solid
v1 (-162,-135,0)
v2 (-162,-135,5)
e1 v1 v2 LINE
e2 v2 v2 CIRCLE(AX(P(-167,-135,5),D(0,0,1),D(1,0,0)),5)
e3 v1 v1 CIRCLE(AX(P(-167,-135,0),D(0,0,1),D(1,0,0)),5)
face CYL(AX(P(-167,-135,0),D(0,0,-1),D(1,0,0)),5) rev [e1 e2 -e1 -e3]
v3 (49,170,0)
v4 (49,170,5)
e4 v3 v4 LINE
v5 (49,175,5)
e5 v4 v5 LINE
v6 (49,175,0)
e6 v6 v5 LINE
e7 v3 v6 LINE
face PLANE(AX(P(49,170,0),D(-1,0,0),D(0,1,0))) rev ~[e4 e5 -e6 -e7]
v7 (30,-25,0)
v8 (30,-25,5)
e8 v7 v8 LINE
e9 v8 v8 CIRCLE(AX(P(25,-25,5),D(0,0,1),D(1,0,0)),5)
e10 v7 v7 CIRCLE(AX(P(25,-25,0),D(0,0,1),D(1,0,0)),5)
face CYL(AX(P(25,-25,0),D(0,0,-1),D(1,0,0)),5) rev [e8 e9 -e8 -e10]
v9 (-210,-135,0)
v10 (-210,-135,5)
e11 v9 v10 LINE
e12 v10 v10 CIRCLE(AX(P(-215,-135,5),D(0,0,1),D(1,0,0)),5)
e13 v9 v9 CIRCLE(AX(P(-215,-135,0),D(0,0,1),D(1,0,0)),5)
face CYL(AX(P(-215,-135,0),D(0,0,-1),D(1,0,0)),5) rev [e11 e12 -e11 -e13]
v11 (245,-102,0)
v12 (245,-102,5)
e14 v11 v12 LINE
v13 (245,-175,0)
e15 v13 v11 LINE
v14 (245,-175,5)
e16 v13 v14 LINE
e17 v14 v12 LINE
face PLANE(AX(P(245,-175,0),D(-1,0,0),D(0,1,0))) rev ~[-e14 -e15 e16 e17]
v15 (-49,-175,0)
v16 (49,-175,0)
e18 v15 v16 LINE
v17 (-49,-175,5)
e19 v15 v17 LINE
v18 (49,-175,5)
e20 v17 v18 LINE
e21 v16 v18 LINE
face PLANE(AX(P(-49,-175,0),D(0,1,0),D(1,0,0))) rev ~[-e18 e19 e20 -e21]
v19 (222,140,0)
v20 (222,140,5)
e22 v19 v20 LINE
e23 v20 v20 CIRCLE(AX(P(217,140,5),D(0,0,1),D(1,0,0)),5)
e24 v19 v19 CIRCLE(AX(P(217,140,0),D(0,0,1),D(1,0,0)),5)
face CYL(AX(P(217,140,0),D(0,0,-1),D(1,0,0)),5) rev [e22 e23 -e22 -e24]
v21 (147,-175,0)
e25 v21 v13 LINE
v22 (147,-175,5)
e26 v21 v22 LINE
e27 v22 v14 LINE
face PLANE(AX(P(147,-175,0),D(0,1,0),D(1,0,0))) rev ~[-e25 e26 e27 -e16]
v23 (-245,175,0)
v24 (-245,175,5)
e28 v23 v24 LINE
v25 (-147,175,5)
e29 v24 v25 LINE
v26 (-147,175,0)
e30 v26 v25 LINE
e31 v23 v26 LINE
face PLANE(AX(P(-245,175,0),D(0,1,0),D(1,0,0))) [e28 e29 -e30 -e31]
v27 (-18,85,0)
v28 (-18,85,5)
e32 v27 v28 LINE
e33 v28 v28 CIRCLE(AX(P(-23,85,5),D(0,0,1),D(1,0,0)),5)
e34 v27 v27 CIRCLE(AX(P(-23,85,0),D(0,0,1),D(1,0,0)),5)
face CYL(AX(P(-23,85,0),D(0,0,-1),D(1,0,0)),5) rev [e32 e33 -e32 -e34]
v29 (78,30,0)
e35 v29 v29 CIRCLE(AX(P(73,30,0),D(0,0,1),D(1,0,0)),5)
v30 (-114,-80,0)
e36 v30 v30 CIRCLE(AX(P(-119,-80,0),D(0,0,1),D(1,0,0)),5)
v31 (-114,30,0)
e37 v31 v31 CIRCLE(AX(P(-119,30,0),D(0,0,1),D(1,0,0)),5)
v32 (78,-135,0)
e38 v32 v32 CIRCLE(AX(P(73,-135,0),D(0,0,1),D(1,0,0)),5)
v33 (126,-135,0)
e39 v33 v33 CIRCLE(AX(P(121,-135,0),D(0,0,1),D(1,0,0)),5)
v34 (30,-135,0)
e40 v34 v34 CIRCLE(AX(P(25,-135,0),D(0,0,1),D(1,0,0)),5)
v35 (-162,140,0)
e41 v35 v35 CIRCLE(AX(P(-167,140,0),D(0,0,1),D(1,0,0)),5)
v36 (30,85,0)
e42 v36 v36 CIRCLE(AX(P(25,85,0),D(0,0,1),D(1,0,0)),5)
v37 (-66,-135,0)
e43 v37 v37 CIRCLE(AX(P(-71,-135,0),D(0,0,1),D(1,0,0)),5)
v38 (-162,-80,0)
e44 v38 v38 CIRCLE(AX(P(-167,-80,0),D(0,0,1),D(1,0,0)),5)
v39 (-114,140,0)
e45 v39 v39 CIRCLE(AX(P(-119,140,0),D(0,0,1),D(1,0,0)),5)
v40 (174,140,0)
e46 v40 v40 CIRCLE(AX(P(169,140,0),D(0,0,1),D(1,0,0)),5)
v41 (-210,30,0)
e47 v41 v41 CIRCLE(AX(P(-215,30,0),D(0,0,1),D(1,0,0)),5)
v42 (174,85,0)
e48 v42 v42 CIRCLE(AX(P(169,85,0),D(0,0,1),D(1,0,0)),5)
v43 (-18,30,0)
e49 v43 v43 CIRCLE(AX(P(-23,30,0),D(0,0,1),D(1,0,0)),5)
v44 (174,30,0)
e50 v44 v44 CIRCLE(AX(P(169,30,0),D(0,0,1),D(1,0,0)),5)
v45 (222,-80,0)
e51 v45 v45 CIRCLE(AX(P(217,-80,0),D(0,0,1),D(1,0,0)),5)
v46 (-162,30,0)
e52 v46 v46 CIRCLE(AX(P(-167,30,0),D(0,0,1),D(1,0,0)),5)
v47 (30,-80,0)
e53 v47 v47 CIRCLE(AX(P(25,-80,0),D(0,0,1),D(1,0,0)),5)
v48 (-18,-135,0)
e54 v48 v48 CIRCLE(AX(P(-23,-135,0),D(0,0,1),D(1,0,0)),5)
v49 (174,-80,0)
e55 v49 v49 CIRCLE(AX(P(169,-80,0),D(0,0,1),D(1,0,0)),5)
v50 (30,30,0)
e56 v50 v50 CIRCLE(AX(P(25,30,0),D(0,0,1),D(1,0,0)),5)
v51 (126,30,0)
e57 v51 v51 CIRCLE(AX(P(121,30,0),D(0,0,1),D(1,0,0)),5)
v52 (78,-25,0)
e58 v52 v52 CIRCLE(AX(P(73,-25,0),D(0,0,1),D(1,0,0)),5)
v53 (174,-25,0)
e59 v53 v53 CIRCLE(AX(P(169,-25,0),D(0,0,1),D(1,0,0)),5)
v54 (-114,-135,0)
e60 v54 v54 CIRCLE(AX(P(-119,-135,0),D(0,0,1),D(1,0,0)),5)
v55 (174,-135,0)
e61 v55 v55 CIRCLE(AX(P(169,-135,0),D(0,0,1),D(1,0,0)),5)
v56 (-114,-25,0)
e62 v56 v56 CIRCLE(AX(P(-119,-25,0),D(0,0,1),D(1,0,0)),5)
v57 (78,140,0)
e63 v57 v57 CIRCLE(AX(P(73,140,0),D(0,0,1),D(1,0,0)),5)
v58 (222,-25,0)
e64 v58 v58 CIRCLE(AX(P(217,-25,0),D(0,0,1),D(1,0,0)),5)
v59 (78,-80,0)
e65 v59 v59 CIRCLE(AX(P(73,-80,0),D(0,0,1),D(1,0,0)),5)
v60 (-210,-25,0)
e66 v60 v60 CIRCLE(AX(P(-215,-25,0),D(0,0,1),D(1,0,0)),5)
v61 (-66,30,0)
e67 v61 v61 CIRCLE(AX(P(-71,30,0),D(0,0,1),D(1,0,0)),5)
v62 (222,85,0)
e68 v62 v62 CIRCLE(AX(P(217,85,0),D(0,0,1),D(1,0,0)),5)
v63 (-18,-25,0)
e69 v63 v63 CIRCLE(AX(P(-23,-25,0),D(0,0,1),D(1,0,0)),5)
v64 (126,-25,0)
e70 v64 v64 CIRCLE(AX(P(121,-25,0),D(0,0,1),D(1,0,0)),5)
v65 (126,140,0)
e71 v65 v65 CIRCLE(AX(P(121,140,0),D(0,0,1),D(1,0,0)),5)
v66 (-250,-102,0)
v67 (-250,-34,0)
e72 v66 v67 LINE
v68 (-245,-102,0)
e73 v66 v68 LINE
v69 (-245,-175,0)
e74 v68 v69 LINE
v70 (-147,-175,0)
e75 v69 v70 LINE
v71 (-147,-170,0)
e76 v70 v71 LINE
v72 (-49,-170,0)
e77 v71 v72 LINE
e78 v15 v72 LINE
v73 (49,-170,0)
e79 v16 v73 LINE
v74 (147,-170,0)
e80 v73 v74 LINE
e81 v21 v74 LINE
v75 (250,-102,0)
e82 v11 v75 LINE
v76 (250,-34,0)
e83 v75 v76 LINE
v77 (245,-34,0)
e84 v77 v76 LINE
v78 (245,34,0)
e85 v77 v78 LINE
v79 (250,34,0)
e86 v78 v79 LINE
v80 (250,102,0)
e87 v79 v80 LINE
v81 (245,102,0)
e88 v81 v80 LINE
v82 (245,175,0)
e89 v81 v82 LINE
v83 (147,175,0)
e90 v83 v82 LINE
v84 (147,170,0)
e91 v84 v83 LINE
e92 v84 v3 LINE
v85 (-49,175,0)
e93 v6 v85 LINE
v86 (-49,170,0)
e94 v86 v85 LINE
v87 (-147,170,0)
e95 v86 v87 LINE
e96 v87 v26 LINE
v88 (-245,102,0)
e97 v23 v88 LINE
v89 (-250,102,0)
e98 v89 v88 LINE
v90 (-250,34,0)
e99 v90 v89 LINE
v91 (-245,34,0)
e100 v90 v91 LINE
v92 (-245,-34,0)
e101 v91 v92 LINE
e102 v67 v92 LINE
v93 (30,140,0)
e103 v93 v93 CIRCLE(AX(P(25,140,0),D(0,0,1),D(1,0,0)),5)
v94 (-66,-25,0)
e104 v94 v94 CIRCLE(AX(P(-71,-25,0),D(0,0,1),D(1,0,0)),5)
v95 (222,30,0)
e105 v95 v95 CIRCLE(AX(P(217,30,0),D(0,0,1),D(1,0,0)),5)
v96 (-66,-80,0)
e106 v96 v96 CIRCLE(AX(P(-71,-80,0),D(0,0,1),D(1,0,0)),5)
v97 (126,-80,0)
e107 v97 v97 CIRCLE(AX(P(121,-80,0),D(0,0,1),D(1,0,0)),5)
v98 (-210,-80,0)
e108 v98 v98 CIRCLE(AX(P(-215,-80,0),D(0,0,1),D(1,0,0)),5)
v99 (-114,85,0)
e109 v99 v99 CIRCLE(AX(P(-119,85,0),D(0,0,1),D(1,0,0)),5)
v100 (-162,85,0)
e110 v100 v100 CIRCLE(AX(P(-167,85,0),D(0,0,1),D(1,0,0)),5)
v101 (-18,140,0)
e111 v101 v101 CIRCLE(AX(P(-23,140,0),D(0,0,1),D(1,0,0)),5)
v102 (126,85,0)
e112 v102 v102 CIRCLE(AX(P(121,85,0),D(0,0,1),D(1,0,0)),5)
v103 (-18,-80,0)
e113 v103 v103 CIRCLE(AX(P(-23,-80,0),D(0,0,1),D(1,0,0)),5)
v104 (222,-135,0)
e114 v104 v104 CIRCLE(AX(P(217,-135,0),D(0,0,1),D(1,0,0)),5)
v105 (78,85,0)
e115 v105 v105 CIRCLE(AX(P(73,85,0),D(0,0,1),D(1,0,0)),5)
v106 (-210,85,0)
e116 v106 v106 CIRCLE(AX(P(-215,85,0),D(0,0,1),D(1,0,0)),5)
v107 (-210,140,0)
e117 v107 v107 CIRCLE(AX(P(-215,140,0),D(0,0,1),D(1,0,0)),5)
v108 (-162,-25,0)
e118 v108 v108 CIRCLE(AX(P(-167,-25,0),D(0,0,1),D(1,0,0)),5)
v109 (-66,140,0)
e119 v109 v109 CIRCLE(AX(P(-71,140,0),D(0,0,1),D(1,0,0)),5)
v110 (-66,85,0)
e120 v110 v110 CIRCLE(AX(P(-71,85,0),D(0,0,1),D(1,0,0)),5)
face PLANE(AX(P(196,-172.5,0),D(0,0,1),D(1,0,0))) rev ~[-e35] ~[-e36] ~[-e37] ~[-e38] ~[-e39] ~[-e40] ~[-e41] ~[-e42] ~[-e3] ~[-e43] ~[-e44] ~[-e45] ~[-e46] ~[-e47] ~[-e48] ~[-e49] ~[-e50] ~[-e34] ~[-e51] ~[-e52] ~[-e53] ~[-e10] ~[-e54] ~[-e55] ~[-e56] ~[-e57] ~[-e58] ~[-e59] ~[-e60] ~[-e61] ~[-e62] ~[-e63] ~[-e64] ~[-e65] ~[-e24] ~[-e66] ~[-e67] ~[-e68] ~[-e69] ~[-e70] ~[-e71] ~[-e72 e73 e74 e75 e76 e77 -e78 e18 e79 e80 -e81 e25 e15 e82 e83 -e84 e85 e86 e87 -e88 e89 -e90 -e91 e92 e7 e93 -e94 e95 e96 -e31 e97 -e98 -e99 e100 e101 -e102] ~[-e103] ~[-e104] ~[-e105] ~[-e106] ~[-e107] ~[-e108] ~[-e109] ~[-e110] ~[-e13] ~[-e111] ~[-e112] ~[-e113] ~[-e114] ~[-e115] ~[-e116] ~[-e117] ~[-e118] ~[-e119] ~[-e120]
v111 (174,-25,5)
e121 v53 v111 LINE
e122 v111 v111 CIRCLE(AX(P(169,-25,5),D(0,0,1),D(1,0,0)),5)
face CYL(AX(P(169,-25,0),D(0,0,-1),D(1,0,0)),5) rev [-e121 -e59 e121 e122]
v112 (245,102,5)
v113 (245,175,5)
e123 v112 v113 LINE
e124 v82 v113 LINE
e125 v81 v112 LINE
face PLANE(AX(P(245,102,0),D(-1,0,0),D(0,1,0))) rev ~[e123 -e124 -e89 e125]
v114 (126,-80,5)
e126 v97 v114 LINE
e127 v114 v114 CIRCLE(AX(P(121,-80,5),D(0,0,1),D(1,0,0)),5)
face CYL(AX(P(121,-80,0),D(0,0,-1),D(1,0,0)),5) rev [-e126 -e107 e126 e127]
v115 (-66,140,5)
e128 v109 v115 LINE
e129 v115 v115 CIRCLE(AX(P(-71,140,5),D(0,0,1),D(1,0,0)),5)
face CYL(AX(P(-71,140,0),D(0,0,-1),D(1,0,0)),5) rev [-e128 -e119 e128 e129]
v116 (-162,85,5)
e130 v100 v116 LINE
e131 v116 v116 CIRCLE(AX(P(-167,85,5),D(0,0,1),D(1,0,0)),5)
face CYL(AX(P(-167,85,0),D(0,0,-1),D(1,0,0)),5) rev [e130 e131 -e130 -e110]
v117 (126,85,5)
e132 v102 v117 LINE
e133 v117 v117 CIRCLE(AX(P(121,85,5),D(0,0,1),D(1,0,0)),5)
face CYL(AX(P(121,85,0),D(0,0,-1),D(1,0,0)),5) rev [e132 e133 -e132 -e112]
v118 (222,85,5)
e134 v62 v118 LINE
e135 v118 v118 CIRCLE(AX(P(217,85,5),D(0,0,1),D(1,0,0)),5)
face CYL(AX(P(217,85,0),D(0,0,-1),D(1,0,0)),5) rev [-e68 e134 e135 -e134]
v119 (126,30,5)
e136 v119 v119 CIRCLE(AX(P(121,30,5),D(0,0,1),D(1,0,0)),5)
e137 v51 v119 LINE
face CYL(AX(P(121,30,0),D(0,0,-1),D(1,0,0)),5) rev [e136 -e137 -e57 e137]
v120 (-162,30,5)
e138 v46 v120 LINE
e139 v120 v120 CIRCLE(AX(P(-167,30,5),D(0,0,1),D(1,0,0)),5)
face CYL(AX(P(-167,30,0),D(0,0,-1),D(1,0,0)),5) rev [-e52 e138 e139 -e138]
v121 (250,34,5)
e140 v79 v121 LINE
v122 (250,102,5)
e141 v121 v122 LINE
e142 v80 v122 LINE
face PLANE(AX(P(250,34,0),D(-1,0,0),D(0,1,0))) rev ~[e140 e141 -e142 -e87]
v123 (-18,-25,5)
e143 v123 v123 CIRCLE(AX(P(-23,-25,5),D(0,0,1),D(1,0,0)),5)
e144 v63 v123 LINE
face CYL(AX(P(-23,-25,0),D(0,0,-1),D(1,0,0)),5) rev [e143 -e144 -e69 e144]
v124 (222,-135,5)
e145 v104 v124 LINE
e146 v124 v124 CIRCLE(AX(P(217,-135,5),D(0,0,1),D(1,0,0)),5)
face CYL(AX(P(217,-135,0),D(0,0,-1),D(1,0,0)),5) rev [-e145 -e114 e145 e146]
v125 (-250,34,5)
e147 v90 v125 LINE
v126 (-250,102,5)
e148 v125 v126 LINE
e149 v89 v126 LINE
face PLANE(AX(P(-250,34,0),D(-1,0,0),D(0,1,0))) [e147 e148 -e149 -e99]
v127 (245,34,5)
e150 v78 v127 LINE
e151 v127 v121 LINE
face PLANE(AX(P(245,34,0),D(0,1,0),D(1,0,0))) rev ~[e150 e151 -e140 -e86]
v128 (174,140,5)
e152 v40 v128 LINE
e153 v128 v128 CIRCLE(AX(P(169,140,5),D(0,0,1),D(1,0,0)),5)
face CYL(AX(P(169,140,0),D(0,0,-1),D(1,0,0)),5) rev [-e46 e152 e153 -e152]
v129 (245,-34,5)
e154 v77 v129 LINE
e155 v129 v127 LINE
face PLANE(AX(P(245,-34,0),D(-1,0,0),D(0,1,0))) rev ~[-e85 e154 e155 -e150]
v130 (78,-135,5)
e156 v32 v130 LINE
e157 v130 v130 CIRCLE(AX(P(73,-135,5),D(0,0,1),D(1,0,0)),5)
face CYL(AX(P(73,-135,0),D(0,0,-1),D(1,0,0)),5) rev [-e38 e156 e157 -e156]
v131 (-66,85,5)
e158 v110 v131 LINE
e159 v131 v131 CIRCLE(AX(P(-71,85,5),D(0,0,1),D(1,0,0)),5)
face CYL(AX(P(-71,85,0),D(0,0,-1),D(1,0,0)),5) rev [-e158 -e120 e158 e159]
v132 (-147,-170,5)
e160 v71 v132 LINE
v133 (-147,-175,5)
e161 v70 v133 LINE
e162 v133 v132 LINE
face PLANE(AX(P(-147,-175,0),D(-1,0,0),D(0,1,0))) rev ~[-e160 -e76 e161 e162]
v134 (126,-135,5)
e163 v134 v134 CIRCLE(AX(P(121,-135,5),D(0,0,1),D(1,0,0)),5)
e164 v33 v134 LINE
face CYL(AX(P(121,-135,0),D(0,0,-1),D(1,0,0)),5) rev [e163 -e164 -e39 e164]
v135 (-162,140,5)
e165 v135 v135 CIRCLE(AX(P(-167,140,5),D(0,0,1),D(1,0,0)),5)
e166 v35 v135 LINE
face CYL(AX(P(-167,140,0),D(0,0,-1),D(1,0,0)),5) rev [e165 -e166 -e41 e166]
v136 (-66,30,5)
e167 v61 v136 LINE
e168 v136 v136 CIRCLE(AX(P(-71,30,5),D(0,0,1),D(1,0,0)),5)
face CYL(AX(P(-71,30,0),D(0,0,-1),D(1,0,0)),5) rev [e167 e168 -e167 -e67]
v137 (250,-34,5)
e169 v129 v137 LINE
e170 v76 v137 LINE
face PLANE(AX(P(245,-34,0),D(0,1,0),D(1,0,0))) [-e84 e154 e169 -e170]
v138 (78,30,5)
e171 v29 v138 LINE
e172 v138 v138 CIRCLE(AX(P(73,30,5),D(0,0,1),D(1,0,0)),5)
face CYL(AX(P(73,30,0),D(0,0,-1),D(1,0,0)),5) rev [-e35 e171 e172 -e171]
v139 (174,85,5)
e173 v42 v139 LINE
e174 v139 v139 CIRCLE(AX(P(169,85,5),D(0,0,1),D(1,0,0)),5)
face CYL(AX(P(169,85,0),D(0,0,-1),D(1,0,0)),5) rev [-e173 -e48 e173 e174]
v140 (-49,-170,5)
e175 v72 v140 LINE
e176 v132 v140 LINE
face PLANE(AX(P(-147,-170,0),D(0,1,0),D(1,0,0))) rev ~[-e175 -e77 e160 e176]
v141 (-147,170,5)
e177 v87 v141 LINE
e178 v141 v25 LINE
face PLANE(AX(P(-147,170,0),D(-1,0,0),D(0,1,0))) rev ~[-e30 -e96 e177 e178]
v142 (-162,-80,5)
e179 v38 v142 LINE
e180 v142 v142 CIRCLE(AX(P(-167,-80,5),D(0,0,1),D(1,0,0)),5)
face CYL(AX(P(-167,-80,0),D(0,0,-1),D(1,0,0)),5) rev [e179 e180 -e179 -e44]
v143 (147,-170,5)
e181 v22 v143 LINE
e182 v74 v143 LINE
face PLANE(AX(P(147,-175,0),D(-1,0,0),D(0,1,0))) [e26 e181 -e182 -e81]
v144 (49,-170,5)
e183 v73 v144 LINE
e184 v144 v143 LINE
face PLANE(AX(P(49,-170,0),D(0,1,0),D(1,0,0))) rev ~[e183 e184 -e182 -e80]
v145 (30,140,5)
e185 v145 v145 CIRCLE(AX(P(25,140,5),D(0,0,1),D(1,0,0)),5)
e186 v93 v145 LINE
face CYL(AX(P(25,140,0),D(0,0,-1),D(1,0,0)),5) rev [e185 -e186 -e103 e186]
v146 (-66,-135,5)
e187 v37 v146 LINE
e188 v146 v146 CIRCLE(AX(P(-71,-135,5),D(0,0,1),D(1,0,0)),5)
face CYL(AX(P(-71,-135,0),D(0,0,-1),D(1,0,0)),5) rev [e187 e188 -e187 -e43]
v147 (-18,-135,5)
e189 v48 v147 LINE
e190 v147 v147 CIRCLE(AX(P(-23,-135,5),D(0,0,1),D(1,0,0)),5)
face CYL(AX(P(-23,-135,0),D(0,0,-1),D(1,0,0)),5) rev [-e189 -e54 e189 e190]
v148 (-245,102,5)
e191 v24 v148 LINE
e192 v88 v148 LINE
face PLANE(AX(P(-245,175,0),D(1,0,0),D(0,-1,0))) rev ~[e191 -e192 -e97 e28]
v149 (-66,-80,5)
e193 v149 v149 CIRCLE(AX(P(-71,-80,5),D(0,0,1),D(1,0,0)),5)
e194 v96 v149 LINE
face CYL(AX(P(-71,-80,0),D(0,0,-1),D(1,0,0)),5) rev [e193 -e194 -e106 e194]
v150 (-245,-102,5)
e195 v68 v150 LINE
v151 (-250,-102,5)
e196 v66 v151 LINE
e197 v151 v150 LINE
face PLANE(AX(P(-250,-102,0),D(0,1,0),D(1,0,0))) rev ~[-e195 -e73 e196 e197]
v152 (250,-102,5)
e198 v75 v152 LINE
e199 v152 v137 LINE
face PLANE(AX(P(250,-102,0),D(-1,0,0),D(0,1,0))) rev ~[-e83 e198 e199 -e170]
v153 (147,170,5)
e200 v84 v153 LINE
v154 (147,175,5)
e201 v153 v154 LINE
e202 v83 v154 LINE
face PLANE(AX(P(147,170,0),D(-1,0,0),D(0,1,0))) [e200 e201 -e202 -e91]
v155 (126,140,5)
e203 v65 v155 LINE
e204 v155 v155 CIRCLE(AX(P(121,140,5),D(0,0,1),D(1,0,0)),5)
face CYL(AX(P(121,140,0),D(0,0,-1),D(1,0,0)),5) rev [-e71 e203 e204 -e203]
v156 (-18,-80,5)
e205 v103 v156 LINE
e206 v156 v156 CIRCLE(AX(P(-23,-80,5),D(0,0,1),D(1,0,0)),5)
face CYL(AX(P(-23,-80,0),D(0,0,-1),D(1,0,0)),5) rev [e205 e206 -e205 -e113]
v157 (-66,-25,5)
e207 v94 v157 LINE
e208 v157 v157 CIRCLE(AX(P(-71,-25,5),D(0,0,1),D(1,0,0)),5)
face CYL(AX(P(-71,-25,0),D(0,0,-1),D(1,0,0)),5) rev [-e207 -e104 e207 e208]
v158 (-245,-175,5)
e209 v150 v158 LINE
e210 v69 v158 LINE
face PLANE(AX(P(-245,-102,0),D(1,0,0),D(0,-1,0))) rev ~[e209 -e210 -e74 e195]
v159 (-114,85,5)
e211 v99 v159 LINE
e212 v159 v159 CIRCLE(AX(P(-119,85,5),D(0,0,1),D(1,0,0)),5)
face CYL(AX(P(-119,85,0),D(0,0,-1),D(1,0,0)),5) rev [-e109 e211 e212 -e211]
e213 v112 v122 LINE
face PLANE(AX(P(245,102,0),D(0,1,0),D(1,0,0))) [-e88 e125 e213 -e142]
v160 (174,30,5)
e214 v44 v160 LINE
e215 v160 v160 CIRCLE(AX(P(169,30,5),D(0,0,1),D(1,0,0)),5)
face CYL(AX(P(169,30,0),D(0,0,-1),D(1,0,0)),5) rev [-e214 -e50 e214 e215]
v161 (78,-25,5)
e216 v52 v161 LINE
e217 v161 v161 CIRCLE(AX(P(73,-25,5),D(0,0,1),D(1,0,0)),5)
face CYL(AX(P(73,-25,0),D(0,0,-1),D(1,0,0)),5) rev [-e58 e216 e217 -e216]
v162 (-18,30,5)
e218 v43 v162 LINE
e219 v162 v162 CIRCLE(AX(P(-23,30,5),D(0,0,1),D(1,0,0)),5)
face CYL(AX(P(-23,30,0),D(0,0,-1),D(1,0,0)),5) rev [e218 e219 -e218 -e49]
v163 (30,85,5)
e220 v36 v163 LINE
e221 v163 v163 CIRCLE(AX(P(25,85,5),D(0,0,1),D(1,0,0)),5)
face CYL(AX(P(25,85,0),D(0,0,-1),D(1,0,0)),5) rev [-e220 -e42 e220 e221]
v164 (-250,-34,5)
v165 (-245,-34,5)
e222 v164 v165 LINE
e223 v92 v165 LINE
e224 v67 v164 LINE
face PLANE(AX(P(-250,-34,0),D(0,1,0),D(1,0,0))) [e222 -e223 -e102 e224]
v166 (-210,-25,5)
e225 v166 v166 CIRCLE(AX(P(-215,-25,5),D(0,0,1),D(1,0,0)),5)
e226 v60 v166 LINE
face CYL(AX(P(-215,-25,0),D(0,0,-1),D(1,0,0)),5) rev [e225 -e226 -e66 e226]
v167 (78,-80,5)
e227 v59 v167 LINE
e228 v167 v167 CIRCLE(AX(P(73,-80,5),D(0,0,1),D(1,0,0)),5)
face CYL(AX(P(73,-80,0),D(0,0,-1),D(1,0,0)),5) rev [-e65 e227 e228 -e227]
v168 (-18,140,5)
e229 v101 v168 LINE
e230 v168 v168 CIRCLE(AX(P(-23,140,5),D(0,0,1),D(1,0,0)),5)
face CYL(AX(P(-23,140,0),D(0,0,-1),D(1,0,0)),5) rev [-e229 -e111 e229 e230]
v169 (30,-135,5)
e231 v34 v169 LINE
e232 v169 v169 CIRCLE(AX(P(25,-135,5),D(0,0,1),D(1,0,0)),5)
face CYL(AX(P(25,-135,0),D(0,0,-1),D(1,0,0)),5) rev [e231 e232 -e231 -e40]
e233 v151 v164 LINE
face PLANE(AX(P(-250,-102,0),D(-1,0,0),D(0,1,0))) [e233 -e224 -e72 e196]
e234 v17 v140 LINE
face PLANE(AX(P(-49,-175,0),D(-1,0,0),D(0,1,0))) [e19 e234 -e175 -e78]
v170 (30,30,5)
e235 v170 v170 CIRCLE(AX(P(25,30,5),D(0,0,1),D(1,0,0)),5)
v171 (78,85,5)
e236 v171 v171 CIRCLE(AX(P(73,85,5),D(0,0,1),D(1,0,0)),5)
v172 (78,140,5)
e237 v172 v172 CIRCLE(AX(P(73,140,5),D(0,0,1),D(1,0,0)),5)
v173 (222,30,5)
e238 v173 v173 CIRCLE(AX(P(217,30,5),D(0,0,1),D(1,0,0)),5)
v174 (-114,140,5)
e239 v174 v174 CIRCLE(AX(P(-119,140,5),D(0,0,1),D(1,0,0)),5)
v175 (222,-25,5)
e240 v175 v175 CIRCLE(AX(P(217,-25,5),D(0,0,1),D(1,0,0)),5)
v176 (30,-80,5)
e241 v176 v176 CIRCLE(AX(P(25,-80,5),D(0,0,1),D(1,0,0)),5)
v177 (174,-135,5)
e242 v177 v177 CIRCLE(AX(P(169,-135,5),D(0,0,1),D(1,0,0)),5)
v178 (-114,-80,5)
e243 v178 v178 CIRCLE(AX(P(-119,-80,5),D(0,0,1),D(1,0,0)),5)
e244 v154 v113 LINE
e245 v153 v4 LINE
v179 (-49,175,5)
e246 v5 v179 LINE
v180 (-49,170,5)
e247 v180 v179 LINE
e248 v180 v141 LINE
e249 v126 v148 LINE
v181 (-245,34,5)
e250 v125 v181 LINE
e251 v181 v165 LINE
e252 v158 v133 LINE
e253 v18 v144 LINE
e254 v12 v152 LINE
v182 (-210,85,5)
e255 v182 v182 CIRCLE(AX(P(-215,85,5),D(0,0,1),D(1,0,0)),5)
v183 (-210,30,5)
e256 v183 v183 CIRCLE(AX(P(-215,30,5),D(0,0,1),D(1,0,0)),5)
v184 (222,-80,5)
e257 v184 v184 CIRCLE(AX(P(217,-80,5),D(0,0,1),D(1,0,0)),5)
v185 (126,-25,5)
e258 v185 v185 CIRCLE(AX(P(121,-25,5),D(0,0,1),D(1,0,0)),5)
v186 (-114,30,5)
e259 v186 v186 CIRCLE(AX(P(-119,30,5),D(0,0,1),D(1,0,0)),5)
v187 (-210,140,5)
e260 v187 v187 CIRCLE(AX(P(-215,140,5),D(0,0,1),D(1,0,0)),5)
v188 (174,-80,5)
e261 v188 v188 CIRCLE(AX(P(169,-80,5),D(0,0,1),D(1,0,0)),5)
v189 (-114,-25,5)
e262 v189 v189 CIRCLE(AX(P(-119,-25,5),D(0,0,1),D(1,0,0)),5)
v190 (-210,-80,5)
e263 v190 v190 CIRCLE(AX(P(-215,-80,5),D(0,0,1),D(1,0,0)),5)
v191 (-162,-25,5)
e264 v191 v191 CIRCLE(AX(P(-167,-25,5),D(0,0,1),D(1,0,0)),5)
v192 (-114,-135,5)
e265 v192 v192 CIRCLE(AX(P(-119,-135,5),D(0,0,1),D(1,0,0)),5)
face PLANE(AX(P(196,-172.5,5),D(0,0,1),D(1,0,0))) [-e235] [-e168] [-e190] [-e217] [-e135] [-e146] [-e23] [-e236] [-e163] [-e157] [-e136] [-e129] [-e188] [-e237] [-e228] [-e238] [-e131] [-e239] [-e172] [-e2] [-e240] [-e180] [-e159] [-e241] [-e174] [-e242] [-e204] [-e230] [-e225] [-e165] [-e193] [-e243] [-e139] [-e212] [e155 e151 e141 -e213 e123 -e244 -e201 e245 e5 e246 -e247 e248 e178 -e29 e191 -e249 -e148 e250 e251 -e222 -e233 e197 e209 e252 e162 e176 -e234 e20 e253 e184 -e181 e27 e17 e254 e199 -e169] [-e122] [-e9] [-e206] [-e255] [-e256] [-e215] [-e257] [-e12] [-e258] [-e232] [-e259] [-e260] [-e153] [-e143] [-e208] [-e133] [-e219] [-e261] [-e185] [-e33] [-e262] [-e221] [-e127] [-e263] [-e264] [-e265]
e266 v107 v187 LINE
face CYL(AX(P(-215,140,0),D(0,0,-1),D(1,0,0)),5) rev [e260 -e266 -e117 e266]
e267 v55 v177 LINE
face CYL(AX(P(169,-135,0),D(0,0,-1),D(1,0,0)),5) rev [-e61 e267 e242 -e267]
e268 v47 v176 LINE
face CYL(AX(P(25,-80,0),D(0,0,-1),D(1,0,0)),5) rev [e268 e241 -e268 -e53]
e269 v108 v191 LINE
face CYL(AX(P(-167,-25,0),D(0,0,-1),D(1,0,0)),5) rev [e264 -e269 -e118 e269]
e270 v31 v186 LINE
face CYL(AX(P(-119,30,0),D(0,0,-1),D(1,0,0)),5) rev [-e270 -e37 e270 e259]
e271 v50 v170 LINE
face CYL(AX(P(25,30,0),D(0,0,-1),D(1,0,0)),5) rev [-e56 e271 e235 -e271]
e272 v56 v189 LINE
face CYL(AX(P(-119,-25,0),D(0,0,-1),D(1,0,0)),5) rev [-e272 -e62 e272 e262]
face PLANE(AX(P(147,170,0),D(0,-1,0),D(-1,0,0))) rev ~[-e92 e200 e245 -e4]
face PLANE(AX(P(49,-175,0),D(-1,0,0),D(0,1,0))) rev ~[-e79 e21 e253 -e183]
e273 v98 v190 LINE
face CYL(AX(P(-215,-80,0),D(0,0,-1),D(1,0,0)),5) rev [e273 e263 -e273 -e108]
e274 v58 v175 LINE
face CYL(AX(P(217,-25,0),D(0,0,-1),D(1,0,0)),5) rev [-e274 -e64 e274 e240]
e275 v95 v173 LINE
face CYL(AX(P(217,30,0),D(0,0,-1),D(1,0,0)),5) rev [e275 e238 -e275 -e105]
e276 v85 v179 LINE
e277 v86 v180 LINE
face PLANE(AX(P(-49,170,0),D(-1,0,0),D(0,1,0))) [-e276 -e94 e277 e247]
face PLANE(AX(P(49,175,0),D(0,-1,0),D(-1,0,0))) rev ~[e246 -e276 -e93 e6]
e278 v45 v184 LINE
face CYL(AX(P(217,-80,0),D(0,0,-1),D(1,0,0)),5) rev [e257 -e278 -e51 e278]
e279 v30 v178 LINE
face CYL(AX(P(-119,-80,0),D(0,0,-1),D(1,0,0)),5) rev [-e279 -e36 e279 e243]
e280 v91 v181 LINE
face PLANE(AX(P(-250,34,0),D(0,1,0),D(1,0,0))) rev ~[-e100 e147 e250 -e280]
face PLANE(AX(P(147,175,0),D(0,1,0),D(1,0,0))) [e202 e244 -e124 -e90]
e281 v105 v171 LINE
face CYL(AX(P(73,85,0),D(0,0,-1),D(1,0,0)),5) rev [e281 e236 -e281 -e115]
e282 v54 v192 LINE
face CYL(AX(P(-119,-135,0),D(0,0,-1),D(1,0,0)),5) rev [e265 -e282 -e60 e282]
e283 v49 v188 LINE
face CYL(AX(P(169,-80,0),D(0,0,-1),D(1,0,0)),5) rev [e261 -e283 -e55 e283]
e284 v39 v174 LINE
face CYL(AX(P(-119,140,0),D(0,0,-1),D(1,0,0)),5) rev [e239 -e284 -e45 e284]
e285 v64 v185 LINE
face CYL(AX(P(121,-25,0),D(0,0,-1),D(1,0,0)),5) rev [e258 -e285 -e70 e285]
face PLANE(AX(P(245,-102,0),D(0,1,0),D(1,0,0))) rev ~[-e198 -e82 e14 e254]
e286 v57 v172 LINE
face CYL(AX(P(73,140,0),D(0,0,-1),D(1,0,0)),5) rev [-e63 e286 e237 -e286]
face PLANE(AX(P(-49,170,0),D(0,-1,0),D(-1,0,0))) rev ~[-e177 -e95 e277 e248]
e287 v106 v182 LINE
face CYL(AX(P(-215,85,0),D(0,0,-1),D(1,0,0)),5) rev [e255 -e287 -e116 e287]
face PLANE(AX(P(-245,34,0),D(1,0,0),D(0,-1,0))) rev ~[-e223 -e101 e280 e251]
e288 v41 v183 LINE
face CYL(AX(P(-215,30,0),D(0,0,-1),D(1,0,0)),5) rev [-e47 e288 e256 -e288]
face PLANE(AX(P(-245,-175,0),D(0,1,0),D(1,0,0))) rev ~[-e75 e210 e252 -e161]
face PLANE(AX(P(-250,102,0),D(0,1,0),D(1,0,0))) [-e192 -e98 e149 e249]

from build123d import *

# Parameters (mm, degrees)
F0_W     = 98
F0_H     = 5
F0_R     = 5
F0_W_2   = 5
F0_H_2   = 68
F0_W_3   = 49
F1_DEPTH = 5


with BuildPart() as f1:
    # F0 (on Top) → F1 (new body)
    with BuildSketch(Plane.XY):
        with Locations((196, -172.5)):
            Rectangle(F0_W, F0_H)
        Polygon((147, -170), (245, -170), (245, -102), (245, -34), (245, 0), (0, 0), (0, -170), (49, -170), align=None)
        with Locations((25, -135)):
            Circle(F0_R, mode=Mode.SUBTRACT)
        with Locations((73, -135)):
            Circle(F0_R, mode=Mode.SUBTRACT)
        with Locations((121, -135)):
            Circle(F0_R, mode=Mode.SUBTRACT)
        with Locations((169, -135)):
            Circle(F0_R, mode=Mode.SUBTRACT)
        with Locations((217, -135)):
            Circle(F0_R, mode=Mode.SUBTRACT)
        with Locations((25, -80)):
            Circle(F0_R, mode=Mode.SUBTRACT)
        with Locations((73, -80)):
            Circle(F0_R, mode=Mode.SUBTRACT)
        with Locations((121, -80)):
            Circle(F0_R, mode=Mode.SUBTRACT)
        with Locations((25, -25)):
            Circle(F0_R, mode=Mode.SUBTRACT)
        with Locations((73, -25)):
            Circle(F0_R, mode=Mode.SUBTRACT)
        with Locations((121, -25)):
            Circle(F0_R, mode=Mode.SUBTRACT)
        with Locations((169, -80)):
            Circle(F0_R, mode=Mode.SUBTRACT)
        with Locations((217, -80)):
            Circle(F0_R, mode=Mode.SUBTRACT)
        with Locations((169, -25)):
            Circle(F0_R, mode=Mode.SUBTRACT)
        with Locations((217, -25)):
            Circle(F0_R, mode=Mode.SUBTRACT)
        with Locations((247.5, -68)):
            Rectangle(F0_W_2, F0_H_2)
        with Locations((24.5, -172.5)):
            Rectangle(F0_W_3, F0_H)
        with Locations((-24.5, -172.5)):
            Rectangle(F0_W_3, F0_H)
        Polygon((-49, -170), (0, -170), (0, 0), (-245, 0), (-245, -34), (-245, -102), (-245, -170), (-147, -170), align=None)
        with Locations((-215, -135)):
            Circle(F0_R, mode=Mode.SUBTRACT)
        with Locations((-167, -135)):
            Circle(F0_R, mode=Mode.SUBTRACT)
        with Locations((-119, -135)):
            Circle(F0_R, mode=Mode.SUBTRACT)
        with Locations((-71, -135)):
            Circle(F0_R, mode=Mode.SUBTRACT)
        with Locations((-23, -135)):
            Circle(F0_R, mode=Mode.SUBTRACT)
        with Locations((-215, -80)):
            Circle(F0_R, mode=Mode.SUBTRACT)
        with Locations((-167, -80)):
            Circle(F0_R, mode=Mode.SUBTRACT)
        with Locations((-215, -25)):
            Circle(F0_R, mode=Mode.SUBTRACT)
        with Locations((-167, -25)):
            Circle(F0_R, mode=Mode.SUBTRACT)
        with Locations((-119, -80)):
            Circle(F0_R, mode=Mode.SUBTRACT)
        with Locations((-71, -80)):
            Circle(F0_R, mode=Mode.SUBTRACT)
        with Locations((-23, -80)):
            Circle(F0_R, mode=Mode.SUBTRACT)
        with Locations((-119, -25)):
            Circle(F0_R, mode=Mode.SUBTRACT)
        with Locations((-71, -25)):
            Circle(F0_R, mode=Mode.SUBTRACT)
        with Locations((-23, -25)):
            Circle(F0_R, mode=Mode.SUBTRACT)
        Polygon((0, 0), (245, 0), (245, 34), (245, 102), (245, 170), (147, 170), (49, 170), (0, 170), align=None)
        with Locations((25, 30)):
            Circle(F0_R, mode=Mode.SUBTRACT)
        with Locations((73, 30)):
            Circle(F0_R, mode=Mode.SUBTRACT)
        with Locations((121, 30)):
            Circle(F0_R, mode=Mode.SUBTRACT)
        with Locations((25, 85)):
            Circle(F0_R, mode=Mode.SUBTRACT)
        with Locations((73, 85)):
            Circle(F0_R, mode=Mode.SUBTRACT)
        with Locations((121, 85)):
            Circle(F0_R, mode=Mode.SUBTRACT)
        with Locations((169, 30)):
            Circle(F0_R, mode=Mode.SUBTRACT)
        with Locations((217, 30)):
            Circle(F0_R, mode=Mode.SUBTRACT)
        with Locations((169, 85)):
            Circle(F0_R, mode=Mode.SUBTRACT)
        with Locations((217, 85)):
            Circle(F0_R, mode=Mode.SUBTRACT)
        with Locations((25, 140)):
            Circle(F0_R, mode=Mode.SUBTRACT)
        with Locations((73, 140)):
            Circle(F0_R, mode=Mode.SUBTRACT)
        with Locations((121, 140)):
            Circle(F0_R, mode=Mode.SUBTRACT)
        with Locations((169, 140)):
            Circle(F0_R, mode=Mode.SUBTRACT)
        with Locations((217, 140)):
            Circle(F0_R, mode=Mode.SUBTRACT)
        Polygon((-245, 0), (0, 0), (0, 170), (-49, 170), (-147, 170), (-245, 170), (-245, 102), (-245, 34), align=None)
        with Locations((-215, 30)):
            Circle(F0_R, mode=Mode.SUBTRACT)
        with Locations((-167, 30)):
            Circle(F0_R, mode=Mode.SUBTRACT)
        with Locations((-215, 85)):
            Circle(F0_R, mode=Mode.SUBTRACT)
        with Locations((-167, 85)):
            Circle(F0_R, mode=Mode.SUBTRACT)
        with Locations((-119, 30)):
            Circle(F0_R, mode=Mode.SUBTRACT)
        with Locations((-71, 30)):
            Circle(F0_R, mode=Mode.SUBTRACT)
        with Locations((-23, 30)):
            Circle(F0_R, mode=Mode.SUBTRACT)
        with Locations((-119, 85)):
            Circle(F0_R, mode=Mode.SUBTRACT)
        with Locations((-71, 85)):
            Circle(F0_R, mode=Mode.SUBTRACT)
        with Locations((-23, 85)):
            Circle(F0_R, mode=Mode.SUBTRACT)
        with Locations((-215, 140)):
            Circle(F0_R, mode=Mode.SUBTRACT)
        with Locations((-167, 140)):
            Circle(F0_R, mode=Mode.SUBTRACT)
        with Locations((-119, 140)):
            Circle(F0_R, mode=Mode.SUBTRACT)
        with Locations((-71, 140)):
            Circle(F0_R, mode=Mode.SUBTRACT)
        with Locations((-23, 140)):
            Circle(F0_R, mode=Mode.SUBTRACT)
        with Locations((247.5, 68)):
            Rectangle(F0_W_2, F0_H_2)
        with Locations((-196, -172.5)):
            Rectangle(F0_W, F0_H)
        with Locations((24.5, 172.5)):
            Rectangle(F0_W_3, F0_H)
        with Locations((-24.5, 172.5)):
            Rectangle(F0_W_3, F0_H)
        with Locations((-247.5, -68)):
            Rectangle(F0_W_2, F0_H_2)
        with Locations((-247.5, 68)):
            Rectangle(F0_W_2, F0_H_2)
        with Locations((196, 172.5)):
            Rectangle(F0_W, F0_H)
        with Locations((-196, 172.5)):
            Rectangle(F0_W, F0_H)
    extrude(amount=F1_DEPTH)


solid = f1.part
